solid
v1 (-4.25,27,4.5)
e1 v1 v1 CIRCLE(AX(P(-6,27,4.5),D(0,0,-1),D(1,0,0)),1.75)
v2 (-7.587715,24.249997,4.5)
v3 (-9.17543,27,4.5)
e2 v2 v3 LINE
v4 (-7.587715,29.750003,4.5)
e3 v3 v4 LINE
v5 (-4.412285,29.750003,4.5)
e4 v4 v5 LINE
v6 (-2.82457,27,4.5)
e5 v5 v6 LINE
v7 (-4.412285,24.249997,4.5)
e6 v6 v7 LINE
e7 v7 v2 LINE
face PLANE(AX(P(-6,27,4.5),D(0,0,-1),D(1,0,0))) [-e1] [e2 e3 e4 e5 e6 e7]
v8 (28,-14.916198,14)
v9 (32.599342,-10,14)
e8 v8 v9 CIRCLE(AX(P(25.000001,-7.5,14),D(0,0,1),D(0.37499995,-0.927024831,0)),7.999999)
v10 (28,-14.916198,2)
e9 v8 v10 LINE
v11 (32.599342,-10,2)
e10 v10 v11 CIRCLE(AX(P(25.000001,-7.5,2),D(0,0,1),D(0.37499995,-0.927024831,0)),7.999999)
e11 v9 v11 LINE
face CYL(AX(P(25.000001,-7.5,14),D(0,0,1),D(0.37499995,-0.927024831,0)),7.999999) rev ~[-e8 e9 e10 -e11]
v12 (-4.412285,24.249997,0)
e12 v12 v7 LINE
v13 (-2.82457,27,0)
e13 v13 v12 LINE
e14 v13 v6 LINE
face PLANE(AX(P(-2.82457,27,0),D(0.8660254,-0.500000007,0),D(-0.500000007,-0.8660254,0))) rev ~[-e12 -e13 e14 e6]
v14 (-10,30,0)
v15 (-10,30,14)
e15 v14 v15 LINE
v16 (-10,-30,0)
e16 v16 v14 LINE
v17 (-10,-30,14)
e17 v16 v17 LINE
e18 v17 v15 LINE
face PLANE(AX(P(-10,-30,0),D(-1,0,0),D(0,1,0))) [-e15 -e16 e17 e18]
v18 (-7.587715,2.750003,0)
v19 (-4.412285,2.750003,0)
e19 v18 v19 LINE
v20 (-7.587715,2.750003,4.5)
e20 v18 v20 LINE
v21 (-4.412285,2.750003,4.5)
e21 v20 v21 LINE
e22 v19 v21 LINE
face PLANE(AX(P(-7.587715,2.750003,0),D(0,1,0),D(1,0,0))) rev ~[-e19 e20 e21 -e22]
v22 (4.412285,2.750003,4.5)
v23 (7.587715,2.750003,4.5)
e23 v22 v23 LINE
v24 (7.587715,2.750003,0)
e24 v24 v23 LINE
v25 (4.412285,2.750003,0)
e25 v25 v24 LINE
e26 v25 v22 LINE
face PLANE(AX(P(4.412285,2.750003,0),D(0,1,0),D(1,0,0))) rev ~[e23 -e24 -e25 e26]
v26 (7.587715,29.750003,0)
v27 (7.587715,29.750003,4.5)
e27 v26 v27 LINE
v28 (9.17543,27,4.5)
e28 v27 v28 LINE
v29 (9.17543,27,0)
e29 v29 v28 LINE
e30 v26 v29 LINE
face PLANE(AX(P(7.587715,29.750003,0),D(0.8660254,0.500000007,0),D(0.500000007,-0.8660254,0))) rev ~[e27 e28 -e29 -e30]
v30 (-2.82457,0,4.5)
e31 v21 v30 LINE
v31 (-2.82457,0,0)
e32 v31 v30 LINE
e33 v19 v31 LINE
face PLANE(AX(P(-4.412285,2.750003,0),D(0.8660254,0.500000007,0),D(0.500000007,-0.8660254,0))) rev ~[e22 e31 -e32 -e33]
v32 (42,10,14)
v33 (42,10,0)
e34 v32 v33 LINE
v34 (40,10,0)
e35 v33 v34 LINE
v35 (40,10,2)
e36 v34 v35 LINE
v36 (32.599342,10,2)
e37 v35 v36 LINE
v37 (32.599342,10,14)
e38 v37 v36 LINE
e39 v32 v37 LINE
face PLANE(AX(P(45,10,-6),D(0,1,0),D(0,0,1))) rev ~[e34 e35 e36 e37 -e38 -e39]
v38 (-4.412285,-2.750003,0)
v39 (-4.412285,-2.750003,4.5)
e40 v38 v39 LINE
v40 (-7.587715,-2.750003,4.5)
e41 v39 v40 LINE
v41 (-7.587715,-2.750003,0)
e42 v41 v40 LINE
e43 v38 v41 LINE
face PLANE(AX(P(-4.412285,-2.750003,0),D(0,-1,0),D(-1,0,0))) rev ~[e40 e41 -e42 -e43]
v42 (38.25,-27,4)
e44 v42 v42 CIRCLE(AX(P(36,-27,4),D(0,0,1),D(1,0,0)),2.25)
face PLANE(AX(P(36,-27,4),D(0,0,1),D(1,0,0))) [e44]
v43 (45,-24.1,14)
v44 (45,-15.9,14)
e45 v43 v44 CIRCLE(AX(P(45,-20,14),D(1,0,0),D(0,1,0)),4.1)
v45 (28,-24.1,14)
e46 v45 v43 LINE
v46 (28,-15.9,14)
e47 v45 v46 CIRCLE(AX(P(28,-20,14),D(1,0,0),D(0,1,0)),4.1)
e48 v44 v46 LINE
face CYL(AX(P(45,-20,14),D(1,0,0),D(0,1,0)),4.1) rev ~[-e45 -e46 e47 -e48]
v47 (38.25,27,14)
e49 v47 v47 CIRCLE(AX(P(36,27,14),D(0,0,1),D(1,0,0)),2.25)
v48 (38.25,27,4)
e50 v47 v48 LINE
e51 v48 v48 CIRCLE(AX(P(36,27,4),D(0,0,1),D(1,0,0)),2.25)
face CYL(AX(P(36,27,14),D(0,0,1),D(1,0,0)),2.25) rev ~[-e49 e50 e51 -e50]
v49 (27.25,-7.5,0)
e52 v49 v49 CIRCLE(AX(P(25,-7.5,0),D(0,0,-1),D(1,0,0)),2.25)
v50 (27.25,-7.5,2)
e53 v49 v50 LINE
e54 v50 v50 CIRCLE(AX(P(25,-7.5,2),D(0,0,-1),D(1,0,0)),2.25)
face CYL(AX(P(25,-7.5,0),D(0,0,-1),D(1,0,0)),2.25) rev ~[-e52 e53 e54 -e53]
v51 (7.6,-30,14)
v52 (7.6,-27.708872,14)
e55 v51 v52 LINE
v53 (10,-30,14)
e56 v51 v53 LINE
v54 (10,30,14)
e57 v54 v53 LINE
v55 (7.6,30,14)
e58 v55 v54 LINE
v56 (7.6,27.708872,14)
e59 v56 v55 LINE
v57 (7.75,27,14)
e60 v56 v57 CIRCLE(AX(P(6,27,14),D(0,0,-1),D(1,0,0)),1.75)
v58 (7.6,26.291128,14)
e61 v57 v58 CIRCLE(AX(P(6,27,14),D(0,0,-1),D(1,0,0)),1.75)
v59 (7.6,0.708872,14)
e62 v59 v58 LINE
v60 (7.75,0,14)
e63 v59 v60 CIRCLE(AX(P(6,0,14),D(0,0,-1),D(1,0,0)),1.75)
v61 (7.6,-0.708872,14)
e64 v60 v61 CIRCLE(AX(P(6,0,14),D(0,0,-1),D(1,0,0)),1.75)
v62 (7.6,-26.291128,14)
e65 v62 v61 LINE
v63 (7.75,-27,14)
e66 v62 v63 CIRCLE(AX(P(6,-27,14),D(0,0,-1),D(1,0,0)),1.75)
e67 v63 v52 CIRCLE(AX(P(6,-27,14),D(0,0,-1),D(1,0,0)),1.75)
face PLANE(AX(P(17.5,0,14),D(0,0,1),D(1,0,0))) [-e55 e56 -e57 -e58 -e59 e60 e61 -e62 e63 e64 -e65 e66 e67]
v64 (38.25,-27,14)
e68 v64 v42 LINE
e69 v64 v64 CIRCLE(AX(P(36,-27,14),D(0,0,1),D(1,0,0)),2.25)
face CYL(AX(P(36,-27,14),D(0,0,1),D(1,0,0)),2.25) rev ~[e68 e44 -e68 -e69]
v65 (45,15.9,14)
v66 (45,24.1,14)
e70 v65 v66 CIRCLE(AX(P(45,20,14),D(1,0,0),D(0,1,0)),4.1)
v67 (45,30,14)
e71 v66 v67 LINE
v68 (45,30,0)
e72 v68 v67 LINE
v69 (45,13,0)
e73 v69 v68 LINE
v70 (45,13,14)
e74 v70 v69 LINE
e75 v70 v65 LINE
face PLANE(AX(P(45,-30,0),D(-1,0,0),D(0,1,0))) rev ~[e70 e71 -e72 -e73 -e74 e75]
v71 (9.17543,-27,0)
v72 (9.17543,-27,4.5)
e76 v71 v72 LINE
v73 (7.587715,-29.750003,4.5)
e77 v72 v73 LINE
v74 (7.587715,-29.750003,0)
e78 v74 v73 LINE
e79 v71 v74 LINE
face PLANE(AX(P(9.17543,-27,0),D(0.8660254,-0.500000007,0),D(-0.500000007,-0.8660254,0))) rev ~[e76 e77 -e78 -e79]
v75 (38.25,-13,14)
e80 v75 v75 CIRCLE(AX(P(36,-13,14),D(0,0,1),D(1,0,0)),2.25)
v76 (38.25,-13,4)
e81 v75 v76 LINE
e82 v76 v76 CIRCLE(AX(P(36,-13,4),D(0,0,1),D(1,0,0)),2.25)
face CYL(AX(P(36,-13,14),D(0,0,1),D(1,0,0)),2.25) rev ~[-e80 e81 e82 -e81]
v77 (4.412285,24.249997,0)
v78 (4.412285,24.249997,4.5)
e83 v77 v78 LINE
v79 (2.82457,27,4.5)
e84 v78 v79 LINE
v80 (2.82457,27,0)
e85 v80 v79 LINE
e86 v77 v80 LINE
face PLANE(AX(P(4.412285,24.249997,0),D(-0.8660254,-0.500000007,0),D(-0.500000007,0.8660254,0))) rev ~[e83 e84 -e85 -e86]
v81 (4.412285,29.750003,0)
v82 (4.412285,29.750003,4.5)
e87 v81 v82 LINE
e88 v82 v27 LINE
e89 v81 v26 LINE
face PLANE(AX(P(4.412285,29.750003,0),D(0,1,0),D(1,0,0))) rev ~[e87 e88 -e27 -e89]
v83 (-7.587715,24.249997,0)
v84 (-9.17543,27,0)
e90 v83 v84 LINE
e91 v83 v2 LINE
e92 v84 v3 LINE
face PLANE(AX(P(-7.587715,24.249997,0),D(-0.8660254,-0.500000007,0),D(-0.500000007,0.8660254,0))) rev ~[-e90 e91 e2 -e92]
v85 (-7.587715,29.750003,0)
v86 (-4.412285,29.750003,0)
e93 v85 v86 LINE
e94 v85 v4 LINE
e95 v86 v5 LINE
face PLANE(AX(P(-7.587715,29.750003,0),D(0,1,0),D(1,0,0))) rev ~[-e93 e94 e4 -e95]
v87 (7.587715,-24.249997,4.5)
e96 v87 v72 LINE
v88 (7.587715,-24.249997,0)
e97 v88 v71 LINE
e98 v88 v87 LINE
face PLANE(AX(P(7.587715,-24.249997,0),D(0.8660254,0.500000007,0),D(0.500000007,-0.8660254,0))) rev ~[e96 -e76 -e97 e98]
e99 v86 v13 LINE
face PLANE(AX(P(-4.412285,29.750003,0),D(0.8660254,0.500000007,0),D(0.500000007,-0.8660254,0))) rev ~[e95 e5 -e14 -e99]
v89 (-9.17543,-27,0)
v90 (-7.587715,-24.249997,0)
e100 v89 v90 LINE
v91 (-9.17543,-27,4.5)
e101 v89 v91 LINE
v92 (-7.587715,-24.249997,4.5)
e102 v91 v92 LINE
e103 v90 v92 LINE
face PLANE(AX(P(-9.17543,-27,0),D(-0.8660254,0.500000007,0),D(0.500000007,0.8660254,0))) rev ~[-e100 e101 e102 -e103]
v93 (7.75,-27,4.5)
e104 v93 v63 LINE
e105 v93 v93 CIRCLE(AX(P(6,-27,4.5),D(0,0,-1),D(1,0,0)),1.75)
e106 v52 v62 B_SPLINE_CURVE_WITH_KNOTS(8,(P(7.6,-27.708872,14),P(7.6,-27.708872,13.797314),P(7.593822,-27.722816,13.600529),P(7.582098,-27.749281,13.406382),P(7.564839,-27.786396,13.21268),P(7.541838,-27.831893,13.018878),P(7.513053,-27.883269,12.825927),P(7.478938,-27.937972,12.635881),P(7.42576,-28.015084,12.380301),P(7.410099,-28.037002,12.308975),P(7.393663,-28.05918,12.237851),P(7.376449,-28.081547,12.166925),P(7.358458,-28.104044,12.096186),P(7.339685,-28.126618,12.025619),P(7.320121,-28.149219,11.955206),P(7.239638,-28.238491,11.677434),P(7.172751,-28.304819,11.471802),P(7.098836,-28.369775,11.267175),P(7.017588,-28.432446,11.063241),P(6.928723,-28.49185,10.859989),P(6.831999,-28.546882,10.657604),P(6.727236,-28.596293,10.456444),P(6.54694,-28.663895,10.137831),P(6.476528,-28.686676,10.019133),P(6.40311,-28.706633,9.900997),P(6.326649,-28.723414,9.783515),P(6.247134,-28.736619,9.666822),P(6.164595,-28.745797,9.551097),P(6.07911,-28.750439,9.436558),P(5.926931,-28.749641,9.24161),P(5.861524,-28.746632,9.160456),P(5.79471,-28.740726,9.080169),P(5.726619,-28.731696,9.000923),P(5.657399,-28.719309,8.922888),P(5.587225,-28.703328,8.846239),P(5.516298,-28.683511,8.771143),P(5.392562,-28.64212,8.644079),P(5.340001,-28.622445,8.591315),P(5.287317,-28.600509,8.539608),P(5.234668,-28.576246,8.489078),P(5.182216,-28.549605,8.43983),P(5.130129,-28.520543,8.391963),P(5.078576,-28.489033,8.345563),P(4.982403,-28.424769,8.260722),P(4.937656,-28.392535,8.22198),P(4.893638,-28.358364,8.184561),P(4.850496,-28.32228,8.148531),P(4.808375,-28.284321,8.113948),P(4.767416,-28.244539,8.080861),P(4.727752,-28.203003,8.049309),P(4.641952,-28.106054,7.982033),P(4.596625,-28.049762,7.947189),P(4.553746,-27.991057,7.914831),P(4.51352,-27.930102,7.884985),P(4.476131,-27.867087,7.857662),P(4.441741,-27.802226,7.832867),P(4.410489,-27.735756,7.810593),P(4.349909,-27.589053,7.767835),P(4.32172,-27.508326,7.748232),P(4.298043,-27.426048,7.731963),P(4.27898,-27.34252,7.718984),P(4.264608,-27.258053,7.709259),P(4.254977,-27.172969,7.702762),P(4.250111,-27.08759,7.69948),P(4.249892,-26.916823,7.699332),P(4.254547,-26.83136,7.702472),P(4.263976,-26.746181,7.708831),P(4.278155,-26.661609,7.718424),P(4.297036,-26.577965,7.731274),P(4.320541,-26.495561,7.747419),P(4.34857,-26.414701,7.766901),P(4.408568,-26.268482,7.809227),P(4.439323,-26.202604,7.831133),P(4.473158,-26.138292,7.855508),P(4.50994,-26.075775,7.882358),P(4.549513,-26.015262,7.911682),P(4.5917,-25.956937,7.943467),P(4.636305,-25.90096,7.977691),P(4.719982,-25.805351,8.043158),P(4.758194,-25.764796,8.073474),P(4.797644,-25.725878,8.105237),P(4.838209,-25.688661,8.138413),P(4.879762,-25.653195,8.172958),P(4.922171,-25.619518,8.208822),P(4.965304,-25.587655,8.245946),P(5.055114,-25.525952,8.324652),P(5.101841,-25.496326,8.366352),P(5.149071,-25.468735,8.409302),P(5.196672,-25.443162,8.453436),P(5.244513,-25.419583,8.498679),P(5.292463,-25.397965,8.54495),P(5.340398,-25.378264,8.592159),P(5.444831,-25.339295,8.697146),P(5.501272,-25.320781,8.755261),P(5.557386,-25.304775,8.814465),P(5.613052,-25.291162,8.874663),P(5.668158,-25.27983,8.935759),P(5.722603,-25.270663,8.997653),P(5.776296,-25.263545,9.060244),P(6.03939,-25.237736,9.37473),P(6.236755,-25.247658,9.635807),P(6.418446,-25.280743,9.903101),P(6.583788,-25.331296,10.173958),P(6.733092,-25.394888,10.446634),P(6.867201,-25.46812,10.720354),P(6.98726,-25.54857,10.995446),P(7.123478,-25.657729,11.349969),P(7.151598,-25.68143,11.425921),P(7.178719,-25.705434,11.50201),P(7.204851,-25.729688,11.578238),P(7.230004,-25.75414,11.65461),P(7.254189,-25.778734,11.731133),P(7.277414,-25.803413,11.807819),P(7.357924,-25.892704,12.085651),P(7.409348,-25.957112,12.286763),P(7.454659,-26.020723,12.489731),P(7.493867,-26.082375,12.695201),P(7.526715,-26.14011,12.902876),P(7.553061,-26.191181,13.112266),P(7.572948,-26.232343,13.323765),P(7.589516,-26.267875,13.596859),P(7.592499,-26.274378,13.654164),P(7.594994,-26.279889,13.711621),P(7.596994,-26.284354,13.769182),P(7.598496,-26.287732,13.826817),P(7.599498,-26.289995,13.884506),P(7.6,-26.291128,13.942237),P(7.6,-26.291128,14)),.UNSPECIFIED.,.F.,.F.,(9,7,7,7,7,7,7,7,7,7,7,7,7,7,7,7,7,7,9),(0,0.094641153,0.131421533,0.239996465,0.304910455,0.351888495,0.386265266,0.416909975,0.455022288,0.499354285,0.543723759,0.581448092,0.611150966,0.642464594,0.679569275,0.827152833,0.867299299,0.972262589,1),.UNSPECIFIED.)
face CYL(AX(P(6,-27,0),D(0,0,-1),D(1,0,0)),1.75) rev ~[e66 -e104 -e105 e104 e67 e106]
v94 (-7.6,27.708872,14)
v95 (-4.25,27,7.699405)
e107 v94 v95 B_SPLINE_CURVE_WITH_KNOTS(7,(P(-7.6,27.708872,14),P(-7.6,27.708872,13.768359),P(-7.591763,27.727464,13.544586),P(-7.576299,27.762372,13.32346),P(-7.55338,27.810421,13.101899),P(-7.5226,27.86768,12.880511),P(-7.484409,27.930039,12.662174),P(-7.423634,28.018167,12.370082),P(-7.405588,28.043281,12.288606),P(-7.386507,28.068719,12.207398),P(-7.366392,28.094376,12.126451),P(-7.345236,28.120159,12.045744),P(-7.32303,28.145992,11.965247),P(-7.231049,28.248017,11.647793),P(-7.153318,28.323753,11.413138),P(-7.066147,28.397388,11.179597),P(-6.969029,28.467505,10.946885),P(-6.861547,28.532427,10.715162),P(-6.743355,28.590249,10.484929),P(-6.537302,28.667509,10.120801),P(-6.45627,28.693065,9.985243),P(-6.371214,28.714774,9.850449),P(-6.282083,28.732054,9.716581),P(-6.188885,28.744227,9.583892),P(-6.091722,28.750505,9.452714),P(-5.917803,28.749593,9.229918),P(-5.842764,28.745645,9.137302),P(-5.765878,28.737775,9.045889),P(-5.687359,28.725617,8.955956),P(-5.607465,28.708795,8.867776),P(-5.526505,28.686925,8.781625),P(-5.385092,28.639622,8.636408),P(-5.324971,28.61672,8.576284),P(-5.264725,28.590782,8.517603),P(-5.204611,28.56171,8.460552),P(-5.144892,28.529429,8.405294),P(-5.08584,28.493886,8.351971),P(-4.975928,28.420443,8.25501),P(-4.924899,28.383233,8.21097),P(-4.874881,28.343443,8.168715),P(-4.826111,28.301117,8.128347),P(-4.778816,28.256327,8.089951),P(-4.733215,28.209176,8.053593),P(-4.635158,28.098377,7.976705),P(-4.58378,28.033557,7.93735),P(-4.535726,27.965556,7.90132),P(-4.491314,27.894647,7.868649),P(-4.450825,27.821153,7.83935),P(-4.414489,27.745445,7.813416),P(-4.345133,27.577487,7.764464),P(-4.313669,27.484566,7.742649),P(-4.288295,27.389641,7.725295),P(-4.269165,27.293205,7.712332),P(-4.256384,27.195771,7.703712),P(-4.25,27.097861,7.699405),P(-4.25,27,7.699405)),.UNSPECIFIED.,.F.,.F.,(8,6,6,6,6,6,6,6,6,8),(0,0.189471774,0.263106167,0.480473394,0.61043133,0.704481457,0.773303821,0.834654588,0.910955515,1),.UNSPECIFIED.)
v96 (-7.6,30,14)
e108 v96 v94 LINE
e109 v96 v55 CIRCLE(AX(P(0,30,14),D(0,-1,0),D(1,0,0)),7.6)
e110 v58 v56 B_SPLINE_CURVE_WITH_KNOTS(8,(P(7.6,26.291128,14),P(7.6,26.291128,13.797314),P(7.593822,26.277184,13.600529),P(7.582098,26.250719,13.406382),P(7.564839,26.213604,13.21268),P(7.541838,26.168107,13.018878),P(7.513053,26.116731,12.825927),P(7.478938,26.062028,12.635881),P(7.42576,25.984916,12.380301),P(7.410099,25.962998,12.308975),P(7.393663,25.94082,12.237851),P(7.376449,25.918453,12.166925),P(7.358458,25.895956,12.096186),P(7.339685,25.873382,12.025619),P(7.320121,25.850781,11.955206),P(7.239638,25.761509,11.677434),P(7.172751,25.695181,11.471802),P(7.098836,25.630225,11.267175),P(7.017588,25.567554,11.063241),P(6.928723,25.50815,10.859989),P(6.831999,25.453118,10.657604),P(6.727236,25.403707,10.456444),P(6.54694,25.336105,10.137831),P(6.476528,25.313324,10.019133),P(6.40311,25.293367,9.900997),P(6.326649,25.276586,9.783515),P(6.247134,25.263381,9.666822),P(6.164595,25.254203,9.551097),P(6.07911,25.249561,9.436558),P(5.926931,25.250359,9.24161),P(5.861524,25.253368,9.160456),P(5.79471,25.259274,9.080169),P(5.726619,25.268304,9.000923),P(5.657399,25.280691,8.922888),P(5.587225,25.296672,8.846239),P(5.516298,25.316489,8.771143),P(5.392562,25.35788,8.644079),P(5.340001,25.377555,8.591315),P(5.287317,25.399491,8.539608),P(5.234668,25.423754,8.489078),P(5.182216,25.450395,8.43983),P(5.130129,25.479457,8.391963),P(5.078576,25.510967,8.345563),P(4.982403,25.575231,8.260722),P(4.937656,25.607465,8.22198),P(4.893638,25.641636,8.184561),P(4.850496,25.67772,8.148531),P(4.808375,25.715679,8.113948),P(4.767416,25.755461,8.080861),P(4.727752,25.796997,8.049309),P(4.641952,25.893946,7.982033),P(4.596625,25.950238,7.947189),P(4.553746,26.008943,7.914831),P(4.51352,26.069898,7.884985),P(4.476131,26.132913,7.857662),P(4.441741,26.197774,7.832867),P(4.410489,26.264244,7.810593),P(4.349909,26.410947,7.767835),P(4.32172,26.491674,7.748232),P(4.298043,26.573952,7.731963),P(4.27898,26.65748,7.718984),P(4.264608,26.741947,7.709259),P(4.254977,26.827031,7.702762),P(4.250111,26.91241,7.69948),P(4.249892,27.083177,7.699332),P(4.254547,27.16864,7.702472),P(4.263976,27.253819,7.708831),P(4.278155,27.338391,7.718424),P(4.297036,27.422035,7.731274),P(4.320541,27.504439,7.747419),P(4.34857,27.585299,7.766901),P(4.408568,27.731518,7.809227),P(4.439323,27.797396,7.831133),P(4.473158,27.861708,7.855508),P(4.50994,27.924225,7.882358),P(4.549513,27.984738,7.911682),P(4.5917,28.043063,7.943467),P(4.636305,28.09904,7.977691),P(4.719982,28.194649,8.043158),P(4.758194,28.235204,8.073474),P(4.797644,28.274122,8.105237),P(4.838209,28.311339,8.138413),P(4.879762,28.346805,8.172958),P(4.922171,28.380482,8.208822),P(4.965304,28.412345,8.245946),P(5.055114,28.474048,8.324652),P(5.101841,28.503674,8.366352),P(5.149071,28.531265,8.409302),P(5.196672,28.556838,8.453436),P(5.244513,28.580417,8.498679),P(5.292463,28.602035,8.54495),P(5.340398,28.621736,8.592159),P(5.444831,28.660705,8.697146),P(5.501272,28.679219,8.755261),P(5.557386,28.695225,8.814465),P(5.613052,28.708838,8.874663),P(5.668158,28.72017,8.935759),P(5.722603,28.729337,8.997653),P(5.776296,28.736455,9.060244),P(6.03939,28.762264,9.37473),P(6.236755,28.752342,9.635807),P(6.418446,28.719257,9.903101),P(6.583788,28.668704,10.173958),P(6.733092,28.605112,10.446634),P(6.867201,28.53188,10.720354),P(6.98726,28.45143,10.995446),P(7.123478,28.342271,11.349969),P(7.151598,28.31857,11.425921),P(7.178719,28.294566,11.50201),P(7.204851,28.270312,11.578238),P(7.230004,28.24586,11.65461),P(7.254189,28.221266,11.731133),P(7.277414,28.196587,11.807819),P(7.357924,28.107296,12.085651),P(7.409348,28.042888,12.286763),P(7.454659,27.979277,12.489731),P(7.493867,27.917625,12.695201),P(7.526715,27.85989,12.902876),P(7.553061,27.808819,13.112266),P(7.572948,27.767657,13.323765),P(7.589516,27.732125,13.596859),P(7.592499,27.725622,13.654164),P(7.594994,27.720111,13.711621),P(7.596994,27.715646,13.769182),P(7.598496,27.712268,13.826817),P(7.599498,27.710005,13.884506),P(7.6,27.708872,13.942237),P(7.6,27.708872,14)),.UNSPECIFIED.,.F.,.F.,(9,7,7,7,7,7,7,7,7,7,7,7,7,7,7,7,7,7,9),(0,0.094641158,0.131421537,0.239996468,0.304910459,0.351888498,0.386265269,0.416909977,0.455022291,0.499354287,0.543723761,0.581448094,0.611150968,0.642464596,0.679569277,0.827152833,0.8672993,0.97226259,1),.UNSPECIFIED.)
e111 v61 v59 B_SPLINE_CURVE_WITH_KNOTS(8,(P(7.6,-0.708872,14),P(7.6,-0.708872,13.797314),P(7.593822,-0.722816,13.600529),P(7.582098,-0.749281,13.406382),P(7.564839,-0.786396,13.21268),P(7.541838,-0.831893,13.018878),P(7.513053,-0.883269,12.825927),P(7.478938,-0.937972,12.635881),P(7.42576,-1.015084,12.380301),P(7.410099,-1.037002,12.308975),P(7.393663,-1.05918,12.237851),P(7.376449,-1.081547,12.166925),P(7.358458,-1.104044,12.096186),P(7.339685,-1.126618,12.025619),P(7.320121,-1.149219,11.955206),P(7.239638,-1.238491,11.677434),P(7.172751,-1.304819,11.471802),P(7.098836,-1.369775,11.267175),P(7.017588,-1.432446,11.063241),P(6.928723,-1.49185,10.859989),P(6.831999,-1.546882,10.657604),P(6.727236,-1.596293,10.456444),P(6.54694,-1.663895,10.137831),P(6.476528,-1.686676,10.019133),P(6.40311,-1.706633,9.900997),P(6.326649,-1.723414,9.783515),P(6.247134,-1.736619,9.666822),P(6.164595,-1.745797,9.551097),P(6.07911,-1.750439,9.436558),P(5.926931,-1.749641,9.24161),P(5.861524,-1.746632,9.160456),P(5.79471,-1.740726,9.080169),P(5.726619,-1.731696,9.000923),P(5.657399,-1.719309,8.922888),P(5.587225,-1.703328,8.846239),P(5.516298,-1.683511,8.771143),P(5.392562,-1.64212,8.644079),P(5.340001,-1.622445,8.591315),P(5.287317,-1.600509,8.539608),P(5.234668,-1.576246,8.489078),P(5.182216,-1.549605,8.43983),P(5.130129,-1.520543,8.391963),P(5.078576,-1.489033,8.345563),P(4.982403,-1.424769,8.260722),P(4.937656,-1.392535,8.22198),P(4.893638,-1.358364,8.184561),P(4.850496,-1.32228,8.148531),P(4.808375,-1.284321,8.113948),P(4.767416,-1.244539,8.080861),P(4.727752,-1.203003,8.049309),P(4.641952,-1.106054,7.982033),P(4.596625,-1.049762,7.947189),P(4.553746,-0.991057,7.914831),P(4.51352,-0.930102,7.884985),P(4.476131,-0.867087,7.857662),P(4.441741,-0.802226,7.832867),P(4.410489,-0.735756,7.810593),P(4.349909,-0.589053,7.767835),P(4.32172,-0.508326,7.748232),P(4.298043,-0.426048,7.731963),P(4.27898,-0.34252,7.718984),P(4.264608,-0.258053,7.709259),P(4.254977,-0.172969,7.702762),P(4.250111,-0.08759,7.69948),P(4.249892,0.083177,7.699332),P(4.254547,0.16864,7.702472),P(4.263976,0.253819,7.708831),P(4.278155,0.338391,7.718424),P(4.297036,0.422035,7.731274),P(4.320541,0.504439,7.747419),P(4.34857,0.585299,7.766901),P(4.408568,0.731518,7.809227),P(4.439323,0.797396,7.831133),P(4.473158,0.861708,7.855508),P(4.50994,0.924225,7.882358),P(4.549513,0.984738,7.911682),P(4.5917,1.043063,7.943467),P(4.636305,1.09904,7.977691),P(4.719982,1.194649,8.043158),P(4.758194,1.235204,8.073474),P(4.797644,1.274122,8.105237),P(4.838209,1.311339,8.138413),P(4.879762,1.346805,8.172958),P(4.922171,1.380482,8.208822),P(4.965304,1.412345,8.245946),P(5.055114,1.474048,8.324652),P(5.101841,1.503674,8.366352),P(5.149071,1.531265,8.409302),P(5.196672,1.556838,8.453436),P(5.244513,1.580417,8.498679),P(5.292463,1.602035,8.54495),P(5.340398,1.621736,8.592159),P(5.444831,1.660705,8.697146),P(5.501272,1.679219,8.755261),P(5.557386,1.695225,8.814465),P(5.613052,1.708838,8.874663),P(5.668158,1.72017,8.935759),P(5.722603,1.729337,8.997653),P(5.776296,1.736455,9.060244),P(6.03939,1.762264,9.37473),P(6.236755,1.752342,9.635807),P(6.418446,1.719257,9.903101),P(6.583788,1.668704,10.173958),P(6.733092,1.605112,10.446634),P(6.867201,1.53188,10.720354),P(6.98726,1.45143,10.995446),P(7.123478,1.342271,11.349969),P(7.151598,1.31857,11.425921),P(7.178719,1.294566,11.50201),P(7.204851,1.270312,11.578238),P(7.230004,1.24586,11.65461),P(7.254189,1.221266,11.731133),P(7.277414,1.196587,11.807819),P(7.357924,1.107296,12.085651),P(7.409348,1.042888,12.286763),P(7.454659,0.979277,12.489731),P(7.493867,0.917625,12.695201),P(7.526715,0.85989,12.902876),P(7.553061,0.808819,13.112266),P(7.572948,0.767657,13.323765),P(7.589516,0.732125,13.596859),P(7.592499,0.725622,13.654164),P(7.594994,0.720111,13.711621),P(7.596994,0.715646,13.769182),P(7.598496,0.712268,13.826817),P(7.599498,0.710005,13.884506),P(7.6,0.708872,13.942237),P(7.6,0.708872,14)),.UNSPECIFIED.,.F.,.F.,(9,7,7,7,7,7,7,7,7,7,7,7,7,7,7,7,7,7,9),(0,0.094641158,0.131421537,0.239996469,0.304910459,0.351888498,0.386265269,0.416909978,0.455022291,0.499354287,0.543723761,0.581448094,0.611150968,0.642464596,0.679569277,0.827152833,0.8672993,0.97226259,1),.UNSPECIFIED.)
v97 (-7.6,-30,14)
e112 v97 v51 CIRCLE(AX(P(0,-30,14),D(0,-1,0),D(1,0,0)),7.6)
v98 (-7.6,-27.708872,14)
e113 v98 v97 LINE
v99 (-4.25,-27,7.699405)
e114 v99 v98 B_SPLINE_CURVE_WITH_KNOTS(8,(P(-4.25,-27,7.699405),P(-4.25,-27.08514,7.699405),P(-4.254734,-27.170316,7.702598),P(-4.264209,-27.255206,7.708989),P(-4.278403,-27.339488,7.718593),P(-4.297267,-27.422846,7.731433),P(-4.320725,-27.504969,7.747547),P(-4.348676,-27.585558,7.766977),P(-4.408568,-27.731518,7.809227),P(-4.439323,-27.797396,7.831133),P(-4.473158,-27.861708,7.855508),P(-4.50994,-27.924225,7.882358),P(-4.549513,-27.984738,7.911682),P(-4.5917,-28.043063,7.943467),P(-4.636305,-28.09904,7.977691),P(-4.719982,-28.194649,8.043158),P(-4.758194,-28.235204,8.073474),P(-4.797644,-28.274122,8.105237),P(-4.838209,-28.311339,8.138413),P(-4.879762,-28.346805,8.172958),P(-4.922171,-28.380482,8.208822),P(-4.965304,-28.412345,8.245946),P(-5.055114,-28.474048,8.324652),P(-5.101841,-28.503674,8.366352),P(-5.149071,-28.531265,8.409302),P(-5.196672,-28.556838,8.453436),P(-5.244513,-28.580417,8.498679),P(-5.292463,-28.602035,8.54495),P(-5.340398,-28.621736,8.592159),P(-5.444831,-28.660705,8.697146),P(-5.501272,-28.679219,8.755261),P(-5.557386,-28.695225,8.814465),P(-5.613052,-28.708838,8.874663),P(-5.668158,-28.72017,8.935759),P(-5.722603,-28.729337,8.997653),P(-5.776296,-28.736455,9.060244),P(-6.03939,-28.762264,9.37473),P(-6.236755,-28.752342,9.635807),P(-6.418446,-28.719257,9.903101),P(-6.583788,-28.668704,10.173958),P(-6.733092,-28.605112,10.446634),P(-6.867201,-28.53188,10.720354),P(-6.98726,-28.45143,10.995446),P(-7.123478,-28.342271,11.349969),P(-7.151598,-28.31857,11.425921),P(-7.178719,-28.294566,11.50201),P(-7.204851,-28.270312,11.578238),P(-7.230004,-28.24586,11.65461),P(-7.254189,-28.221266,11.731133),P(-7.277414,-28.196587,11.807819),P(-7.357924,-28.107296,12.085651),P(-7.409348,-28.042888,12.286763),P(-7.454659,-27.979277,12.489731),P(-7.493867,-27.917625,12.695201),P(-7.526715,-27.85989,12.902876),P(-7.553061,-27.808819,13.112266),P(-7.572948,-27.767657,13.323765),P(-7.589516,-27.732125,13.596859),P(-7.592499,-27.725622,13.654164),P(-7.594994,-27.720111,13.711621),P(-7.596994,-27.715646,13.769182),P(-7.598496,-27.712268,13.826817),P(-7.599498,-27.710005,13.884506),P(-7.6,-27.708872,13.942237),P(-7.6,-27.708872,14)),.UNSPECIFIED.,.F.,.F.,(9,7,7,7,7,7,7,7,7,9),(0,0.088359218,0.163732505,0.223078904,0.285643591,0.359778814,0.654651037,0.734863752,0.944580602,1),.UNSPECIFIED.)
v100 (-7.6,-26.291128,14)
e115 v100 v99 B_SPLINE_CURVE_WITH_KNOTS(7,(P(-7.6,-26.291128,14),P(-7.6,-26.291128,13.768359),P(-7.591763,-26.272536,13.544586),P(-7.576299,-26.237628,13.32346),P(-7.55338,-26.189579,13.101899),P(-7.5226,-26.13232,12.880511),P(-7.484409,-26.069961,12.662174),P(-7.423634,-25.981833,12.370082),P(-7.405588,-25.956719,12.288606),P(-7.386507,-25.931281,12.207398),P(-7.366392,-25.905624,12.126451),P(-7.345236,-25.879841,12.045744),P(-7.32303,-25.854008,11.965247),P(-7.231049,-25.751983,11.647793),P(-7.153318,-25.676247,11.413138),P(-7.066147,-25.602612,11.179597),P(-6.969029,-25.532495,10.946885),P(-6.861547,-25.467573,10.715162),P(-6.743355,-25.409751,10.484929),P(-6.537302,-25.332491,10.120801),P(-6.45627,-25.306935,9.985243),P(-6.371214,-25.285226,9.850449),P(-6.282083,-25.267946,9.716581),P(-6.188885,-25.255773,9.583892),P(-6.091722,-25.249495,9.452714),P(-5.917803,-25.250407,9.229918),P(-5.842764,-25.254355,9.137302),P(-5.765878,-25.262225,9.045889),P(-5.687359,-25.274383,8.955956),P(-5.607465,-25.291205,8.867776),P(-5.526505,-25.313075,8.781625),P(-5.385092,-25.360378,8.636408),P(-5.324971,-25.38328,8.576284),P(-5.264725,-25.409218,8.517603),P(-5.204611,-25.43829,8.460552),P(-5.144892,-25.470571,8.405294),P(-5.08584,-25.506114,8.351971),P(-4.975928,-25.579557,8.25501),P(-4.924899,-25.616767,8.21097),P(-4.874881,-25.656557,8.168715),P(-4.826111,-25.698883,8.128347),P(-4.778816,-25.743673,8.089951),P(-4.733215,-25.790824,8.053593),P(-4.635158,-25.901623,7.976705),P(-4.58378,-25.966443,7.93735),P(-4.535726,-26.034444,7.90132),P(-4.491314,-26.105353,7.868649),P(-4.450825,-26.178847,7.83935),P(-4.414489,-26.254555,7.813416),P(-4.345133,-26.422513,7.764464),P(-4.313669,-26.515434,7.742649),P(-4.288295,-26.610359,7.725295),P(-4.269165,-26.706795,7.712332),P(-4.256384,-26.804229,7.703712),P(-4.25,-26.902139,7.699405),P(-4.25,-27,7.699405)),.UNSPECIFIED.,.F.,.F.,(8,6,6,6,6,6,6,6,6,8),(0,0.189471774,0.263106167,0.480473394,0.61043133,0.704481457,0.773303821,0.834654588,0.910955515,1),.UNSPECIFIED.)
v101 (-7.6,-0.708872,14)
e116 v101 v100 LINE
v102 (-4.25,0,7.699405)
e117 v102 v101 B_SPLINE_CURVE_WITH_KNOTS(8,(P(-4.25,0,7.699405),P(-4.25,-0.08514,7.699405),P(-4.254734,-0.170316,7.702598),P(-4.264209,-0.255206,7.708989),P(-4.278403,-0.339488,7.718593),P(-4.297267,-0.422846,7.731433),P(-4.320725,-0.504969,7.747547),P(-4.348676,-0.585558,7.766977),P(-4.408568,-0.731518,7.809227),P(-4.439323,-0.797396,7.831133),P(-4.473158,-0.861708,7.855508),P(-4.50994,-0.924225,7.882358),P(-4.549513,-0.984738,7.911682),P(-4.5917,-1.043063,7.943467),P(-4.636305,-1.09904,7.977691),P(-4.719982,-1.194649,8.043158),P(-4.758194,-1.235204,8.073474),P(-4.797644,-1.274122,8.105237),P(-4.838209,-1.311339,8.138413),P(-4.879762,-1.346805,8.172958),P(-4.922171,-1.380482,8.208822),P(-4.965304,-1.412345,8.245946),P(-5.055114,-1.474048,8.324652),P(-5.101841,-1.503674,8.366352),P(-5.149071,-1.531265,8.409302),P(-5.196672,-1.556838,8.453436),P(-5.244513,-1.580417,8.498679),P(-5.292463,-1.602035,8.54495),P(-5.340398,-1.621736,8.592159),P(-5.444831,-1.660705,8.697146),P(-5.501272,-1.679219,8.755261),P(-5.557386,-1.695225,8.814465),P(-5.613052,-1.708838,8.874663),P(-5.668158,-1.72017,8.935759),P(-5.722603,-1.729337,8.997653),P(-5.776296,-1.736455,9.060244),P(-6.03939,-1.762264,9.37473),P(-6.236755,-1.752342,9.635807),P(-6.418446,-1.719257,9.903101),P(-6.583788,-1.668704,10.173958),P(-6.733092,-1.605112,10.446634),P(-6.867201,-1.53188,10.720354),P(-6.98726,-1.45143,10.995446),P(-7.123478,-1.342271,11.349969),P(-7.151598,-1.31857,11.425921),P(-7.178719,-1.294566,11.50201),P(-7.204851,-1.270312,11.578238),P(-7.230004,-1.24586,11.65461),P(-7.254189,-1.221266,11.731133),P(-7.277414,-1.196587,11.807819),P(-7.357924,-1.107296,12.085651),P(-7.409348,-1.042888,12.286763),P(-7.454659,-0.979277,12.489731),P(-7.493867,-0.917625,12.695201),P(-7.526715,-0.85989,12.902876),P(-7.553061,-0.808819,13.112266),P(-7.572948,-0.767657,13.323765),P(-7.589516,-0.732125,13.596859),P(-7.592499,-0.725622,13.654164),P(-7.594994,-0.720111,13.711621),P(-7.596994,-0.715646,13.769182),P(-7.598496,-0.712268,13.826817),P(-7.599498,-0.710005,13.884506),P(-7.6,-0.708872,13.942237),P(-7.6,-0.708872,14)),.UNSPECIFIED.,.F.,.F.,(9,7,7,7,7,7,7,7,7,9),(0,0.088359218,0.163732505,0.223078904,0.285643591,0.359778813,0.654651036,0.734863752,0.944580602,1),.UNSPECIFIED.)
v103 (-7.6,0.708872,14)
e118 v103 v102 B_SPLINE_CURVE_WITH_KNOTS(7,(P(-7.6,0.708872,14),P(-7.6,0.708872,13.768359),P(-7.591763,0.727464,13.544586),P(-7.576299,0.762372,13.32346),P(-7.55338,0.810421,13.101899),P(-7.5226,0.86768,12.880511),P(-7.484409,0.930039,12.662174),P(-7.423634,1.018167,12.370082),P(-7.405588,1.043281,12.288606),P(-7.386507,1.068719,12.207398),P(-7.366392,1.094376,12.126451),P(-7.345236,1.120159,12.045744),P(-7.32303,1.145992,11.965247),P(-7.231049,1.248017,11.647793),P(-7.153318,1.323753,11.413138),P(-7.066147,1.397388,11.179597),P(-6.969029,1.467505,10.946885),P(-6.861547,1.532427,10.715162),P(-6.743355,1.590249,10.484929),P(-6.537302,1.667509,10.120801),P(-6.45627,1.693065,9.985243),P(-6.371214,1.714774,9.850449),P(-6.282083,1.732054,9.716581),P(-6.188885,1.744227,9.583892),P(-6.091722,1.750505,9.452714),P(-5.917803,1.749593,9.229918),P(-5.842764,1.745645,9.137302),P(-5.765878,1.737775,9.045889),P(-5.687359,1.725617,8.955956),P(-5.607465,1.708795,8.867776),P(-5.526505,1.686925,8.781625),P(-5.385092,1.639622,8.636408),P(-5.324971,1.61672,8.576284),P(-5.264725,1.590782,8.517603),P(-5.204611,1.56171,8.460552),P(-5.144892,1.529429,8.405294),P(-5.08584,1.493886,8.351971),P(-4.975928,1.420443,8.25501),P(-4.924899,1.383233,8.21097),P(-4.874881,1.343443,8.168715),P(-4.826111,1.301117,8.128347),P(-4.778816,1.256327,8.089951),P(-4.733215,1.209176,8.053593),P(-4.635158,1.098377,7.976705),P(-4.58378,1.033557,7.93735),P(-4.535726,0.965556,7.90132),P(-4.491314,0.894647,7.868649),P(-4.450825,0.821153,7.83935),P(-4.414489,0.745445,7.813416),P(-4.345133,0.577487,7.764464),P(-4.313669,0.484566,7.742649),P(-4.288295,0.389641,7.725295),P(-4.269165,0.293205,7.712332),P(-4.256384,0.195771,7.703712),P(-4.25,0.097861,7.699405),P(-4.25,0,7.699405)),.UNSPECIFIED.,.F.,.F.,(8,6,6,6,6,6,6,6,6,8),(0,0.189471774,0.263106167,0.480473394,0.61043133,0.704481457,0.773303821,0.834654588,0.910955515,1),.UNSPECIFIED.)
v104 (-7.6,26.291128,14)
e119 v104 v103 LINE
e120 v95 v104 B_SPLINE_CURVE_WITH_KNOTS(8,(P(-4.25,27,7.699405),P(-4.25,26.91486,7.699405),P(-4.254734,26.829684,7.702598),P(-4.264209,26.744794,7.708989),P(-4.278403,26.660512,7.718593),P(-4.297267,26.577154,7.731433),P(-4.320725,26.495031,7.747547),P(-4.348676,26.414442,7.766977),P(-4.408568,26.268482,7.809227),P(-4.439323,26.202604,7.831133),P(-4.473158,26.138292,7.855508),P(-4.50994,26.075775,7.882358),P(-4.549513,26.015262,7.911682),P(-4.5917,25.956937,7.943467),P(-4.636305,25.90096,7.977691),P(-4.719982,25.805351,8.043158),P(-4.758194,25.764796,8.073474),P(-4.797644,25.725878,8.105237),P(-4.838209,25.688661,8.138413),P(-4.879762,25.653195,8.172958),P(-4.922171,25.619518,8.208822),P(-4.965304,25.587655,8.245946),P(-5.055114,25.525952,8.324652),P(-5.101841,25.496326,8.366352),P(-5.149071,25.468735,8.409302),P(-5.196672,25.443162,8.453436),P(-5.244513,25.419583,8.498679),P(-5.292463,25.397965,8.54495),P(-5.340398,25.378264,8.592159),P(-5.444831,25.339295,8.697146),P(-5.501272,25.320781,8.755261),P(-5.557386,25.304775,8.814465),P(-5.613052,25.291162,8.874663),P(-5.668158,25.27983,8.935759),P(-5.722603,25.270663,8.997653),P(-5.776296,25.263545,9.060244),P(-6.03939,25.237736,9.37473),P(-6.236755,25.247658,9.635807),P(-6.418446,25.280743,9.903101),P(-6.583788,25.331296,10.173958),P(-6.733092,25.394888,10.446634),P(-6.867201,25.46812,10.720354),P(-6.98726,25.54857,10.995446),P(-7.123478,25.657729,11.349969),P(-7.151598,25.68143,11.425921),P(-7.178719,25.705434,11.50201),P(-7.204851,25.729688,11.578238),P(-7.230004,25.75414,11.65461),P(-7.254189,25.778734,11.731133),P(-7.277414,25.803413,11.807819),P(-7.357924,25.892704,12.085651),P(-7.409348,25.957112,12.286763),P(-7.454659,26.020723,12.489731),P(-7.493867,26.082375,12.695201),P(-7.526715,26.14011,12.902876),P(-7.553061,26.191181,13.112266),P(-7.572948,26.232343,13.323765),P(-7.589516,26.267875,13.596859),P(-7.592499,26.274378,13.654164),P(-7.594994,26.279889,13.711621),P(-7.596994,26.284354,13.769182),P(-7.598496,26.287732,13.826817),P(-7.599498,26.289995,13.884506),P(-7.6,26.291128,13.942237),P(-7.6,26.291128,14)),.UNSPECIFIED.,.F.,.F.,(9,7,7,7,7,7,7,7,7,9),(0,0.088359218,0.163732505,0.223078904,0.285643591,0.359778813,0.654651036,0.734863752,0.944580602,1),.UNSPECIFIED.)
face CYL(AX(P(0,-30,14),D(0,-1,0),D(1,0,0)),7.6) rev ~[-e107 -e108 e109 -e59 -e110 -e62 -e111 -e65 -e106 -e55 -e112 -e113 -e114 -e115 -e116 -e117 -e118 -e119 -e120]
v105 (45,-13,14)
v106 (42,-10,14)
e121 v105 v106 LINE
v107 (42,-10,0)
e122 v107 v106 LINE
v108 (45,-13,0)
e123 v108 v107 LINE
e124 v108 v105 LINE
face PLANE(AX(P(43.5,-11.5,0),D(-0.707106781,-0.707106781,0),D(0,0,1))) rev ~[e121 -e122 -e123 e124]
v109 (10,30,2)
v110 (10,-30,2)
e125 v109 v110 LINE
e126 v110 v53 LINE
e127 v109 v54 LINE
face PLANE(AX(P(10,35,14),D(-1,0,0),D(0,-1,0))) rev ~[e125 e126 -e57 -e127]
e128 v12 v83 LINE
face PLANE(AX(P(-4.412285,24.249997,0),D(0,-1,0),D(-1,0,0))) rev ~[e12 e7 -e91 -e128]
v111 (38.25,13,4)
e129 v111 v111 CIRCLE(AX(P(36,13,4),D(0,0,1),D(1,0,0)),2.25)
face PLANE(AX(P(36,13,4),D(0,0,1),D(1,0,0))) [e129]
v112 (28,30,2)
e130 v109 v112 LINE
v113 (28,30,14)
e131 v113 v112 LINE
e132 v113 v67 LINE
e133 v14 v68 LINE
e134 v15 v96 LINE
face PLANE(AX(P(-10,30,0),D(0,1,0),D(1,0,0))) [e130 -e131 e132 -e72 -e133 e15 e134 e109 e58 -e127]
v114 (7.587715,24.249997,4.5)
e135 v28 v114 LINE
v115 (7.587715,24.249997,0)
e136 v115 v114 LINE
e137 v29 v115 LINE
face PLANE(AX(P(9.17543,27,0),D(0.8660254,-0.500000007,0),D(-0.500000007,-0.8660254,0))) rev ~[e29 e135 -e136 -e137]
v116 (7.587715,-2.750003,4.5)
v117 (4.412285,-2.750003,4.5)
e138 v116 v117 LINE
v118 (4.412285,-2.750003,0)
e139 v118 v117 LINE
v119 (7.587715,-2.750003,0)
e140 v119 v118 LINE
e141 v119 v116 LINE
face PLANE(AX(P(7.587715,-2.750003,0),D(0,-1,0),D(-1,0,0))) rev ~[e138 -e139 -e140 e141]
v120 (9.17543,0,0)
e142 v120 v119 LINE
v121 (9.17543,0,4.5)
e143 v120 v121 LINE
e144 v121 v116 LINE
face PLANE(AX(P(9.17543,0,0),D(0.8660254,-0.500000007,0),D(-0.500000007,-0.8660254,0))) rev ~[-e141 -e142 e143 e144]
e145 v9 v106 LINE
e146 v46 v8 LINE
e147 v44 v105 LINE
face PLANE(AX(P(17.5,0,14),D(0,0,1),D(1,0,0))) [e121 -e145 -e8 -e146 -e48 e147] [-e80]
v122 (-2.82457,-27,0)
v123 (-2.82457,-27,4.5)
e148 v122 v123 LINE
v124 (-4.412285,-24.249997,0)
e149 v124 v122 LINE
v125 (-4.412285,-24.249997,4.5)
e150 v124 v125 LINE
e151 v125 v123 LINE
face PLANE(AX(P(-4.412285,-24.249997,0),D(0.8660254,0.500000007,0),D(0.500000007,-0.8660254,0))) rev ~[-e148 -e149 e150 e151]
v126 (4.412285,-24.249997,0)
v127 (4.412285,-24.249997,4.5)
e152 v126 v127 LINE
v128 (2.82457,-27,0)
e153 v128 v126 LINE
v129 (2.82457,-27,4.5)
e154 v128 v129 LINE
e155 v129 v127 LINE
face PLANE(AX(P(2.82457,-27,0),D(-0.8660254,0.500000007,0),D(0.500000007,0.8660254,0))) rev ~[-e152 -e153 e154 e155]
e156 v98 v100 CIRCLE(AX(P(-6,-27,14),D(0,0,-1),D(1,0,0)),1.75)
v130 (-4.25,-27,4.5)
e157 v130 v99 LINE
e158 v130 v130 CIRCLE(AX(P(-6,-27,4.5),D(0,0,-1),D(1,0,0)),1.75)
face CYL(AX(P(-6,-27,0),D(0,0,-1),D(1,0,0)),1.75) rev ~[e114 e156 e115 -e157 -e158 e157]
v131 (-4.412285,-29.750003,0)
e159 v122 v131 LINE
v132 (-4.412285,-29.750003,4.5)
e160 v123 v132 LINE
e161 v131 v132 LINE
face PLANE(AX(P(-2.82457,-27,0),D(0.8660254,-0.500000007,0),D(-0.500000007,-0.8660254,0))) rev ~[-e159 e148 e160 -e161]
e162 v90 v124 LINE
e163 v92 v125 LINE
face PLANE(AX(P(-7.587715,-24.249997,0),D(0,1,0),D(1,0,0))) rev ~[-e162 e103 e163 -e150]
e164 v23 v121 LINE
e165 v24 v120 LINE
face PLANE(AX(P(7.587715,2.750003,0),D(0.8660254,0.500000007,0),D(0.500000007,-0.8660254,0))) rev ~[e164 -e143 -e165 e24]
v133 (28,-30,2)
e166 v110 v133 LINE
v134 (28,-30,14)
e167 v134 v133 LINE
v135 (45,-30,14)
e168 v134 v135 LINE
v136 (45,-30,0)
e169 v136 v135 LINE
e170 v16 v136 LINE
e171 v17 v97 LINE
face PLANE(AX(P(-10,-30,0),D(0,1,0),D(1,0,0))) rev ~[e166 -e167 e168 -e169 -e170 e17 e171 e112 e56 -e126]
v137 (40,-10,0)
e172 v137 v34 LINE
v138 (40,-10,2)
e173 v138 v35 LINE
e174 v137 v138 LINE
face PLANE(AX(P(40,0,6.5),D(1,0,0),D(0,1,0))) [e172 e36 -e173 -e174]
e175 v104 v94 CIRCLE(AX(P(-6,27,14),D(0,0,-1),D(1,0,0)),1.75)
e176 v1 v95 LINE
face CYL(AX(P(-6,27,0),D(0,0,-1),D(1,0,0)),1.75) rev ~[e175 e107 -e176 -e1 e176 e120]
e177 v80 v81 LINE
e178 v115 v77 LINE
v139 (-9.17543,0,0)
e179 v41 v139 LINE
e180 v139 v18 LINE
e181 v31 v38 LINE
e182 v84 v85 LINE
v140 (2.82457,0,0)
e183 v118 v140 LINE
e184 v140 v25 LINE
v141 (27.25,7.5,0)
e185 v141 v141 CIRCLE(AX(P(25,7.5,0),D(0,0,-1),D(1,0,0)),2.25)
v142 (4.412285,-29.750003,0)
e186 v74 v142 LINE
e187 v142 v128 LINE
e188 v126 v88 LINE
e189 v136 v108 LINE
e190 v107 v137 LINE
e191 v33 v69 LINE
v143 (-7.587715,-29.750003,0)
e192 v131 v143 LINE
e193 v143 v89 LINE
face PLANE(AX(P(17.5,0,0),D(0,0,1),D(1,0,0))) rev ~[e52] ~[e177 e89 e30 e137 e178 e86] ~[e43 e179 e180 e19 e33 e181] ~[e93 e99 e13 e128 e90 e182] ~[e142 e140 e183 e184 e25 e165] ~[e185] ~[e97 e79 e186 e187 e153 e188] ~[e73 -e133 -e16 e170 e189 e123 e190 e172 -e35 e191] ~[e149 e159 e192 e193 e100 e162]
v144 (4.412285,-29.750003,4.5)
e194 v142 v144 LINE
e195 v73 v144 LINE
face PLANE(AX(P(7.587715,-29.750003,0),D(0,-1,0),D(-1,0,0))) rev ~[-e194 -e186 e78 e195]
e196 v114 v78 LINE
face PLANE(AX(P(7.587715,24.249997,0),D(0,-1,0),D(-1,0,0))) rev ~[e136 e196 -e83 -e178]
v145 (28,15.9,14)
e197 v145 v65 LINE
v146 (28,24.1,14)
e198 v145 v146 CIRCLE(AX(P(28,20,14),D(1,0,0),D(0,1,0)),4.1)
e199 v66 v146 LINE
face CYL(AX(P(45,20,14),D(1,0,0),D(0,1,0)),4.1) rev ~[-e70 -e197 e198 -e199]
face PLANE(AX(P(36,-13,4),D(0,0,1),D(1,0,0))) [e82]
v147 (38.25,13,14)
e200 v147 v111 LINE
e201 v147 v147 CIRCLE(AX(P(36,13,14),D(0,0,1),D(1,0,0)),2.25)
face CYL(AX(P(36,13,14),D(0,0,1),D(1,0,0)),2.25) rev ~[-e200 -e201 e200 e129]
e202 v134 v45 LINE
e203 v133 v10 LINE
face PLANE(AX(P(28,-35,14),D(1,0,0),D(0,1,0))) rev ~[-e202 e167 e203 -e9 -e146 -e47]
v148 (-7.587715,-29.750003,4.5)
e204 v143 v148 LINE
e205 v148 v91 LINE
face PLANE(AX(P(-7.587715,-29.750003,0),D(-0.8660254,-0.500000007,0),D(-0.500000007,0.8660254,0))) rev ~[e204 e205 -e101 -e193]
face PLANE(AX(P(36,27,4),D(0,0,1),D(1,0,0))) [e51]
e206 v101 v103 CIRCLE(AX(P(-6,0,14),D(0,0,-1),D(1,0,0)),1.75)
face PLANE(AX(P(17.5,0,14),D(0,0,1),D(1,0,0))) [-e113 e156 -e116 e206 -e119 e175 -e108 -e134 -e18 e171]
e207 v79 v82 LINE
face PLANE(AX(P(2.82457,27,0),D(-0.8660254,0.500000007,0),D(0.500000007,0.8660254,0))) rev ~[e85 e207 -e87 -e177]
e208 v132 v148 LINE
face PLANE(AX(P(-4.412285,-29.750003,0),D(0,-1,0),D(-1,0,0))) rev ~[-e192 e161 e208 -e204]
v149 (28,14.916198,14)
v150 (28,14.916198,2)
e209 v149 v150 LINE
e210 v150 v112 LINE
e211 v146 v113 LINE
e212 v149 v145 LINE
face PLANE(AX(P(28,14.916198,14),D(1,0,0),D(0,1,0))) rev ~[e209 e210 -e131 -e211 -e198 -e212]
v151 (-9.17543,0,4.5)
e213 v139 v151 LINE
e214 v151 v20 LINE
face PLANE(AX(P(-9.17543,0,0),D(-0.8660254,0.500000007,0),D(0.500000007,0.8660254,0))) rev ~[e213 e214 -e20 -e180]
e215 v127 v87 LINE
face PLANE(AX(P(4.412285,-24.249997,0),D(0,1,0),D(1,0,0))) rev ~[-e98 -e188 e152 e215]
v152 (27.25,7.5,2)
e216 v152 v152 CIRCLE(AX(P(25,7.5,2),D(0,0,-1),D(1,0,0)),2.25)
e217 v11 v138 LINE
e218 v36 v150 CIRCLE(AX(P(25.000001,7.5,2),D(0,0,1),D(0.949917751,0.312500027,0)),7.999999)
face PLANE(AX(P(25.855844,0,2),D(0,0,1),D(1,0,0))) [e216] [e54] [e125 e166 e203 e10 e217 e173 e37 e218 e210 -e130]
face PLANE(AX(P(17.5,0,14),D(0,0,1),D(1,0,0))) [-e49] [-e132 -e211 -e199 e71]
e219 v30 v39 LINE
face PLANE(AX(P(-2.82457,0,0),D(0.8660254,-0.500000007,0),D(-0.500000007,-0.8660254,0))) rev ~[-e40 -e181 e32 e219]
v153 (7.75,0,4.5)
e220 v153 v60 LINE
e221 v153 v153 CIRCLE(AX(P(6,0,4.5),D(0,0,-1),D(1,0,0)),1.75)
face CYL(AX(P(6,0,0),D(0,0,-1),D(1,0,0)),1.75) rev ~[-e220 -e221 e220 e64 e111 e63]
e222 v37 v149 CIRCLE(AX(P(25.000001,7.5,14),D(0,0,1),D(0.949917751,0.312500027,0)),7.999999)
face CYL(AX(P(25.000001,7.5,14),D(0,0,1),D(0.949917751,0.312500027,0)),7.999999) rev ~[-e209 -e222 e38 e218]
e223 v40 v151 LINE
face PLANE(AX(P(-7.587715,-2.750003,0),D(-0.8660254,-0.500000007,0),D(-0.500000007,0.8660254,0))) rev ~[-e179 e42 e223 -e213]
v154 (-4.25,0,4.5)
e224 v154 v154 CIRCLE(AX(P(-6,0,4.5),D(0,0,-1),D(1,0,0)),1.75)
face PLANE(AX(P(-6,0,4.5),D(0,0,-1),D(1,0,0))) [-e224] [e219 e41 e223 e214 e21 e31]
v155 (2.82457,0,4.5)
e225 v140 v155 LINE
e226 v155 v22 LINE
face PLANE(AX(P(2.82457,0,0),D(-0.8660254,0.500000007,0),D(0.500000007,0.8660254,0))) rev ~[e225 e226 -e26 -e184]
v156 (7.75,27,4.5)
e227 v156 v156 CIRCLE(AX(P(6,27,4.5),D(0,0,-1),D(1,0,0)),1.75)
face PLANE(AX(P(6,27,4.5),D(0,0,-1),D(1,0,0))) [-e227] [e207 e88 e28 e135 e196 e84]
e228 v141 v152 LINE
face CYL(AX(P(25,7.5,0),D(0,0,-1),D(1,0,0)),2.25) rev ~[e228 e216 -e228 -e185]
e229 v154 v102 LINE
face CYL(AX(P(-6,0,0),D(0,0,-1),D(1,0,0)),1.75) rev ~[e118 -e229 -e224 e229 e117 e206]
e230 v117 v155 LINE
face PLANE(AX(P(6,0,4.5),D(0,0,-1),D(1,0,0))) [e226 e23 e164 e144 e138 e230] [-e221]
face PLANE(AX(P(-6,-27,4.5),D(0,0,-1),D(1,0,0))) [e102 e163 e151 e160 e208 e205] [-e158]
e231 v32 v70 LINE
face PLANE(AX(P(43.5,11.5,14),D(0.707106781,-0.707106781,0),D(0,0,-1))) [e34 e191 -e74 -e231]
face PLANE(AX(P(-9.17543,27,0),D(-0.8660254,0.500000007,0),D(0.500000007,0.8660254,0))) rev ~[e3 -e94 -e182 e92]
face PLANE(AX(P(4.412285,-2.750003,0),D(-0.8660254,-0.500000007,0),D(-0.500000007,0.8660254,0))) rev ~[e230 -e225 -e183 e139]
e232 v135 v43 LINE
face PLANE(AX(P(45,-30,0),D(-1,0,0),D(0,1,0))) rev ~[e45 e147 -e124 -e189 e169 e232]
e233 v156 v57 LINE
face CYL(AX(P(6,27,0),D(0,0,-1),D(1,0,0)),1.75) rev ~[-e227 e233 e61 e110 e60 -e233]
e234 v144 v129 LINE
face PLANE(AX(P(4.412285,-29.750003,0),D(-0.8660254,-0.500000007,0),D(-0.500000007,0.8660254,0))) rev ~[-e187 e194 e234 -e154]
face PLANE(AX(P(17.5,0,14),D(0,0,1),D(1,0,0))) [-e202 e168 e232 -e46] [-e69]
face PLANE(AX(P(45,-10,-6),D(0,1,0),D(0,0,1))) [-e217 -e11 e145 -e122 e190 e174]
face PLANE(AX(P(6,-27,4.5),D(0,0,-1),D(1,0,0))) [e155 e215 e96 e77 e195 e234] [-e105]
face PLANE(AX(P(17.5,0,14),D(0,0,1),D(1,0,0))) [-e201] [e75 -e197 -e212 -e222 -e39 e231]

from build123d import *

# Parameters (mm, degrees)
SKETCH_W        = 55
SKETCH_H        = 60
PAD_DEPTH       = 14
SKETCH001_R     = 7.6
POCKET_DEPTH    = 60.001
SKETCH002_R     = 1.75
POCKET001_DEPTH = 14.001
POCKET002_DEPTH = 12
SKETCH004_R     = 2.25
POCKET003_DEPTH = 14.001
SKETCH008_R     = 4.1
POCKET005_DEPTH = 20
SKETCH010_W     = 20
SKETCH010_H     = 25
POCKET006_DEPTH = 5
SKETCH011_R     = 2.25
POCKET007_DEPTH = 10
CHAMFER_SIZE    = 3
CHAMFER001_SIZE = 3
POCKET008_DEPTH = 4.5


with BuildPart() as part:
    # Sketch → Pad (new body)
    with BuildSketch(Plane.XY):
        with Locations((17.5, 0)):
            Rectangle(SKETCH_W, SKETCH_H)
    extrude(amount=PAD_DEPTH)

    # Sketch001 → Pocket (cut, through all)
    with BuildSketch(Plane.XZ.offset(30)):
        with Locations((0, 14)):
            Circle(SKETCH001_R)
    extrude(amount=-POCKET_DEPTH, mode=Mode.SUBTRACT)

    # Sketch002 → Pocket001 (cut, through all)
    with BuildSketch(Plane(origin=(0, 0, 0), x_dir=(1, 0, 0), z_dir=(0, 0, -1))):
        with Locations((-6, 27)):
            Circle(SKETCH002_R)
        with Locations((-6, -27)):
            Circle(SKETCH002_R)
        with Locations((6, 27)):
            Circle(SKETCH002_R)
        with Locations((6, -27)):
            Circle(SKETCH002_R)
        with Locations((6, 0)):
            Circle(SKETCH002_R)
        with Locations((-6, 0)):
            Circle(SKETCH002_R)
    extrude(amount=-POCKET001_DEPTH, mode=Mode.SUBTRACT)

    # Sketch003 → Pocket002 (cut)
    with BuildSketch(Plane.XY.offset(14)):
        with BuildLine():
            Line((10, 35), (10, -35))
            Line((10, -35), (28, -35))
            Line((28, -35), (28, -14.916198))
            ThreePointArc((28, -14.916198), (30.841983, -12.965458), (32.599342, -10))
            Line((32.599342, -10), (52.599342, -10))
            Line((52.599342, -10), (52.599342, 10))
            Line((52.599342, 10), (32.599342, 10))
            ThreePointArc((32.599342, 10), (30.841983, 12.965458), (28, 14.916198))
            Line((28, 14.916198), (28, 35))
            Line((28, 35), (10, 35))
        make_face()
    extrude(amount=-POCKET002_DEPTH, mode=Mode.SUBTRACT)

    # Sketch004 → Pocket003 (cut, through all)
    with BuildSketch(Plane(origin=(0, 0, 0), x_dir=(1, 0, 0), z_dir=(0, 0, -1))):
        with Locations((25, 7.5)):
            Circle(SKETCH004_R)
        with Locations((25, -7.5)):
            Circle(SKETCH004_R)
    extrude(amount=-POCKET003_DEPTH, mode=Mode.SUBTRACT)

    # Sketch008 → Pocket005 (cut)
    with BuildSketch(Plane.YZ.offset(45)):
        with Locations((-20, 14)):
            Circle(SKETCH008_R)
        with Locations((20, 14)):
            Circle(SKETCH008_R)
    extrude(amount=-POCKET005_DEPTH, mode=Mode.SUBTRACT)

    # Sketch010 → Pocket006 (cut)
    with BuildSketch(Plane.YZ.offset(45)):
        with Locations((0, 6.5)):
            Rectangle(SKETCH010_W, SKETCH010_H)
    extrude(amount=-POCKET006_DEPTH, mode=Mode.SUBTRACT)

    # Sketch011 → Pocket007 (cut)
    with BuildSketch(Plane.XY.offset(14)):
        with Locations((36, 27)):
            Circle(SKETCH011_R)
        with Locations((36, 13)):
            Circle(SKETCH011_R)
        with Locations((36, -13)):
            Circle(SKETCH011_R)
        with Locations((36, -27)):
            Circle(SKETCH011_R)
    extrude(amount=-POCKET007_DEPTH, mode=Mode.SUBTRACT)

    # Chamfer
    chamfer_edges = [part.edges().sort_by_distance(p)[0] for p in [
        (45, -10, 8),
        (45, -10, 1),
    ]]
    chamfer(chamfer_edges, length=CHAMFER_SIZE)

    # Chamfer001
    chamfer001_edges = [part.edges().sort_by_distance(p)[0] for p in [
        (45, 10, 8),
        (45, 10, 1),
    ]]
    chamfer(chamfer001_edges, length=CHAMFER001_SIZE)

    # Sketch012 → Pocket008 (cut)
    with BuildSketch(Plane(origin=(0, 0, 0), x_dir=(1, 0, 0), z_dir=(0, 0, -1))):
        Polygon((-4.412285, 29.750003), (-7.587715, 29.750003), (-9.17543, 27), (-7.587715, 24.249997), (-4.412285, 24.249997), (-2.82457, 27), align=None)
        Polygon((7.587715, 29.750003), (4.412285, 29.750003), (2.82457, 27), (4.412285, 24.249997), (7.587715, 24.249997), (9.17543, 27), align=None)
        Polygon((-4.412285, 2.750003), (-7.587715, 2.750003), (-9.17543, 0), (-7.587715, -2.750003), (-4.412285, -2.750003), (-2.82457, 0), align=None)
        Polygon((7.587715, 2.750003), (4.412285, 2.750003), (2.82457, 0), (4.412285, -2.750003), (7.587715, -2.750003), (9.17543, 0), align=None)
        Polygon((-4.412285, -24.249997), (-7.587715, -24.249997), (-9.17543, -27), (-7.587715, -29.750003), (-4.412285, -29.750003), (-2.82457, -27), align=None)
        Polygon((7.587715, -24.249997), (4.412285, -24.249997), (2.82457, -27), (4.412285, -29.750003), (7.587715, -29.750003), (9.17543, -27), align=None)
    extrude(amount=-POCKET008_DEPTH, mode=Mode.SUBTRACT)


solid = part.part
